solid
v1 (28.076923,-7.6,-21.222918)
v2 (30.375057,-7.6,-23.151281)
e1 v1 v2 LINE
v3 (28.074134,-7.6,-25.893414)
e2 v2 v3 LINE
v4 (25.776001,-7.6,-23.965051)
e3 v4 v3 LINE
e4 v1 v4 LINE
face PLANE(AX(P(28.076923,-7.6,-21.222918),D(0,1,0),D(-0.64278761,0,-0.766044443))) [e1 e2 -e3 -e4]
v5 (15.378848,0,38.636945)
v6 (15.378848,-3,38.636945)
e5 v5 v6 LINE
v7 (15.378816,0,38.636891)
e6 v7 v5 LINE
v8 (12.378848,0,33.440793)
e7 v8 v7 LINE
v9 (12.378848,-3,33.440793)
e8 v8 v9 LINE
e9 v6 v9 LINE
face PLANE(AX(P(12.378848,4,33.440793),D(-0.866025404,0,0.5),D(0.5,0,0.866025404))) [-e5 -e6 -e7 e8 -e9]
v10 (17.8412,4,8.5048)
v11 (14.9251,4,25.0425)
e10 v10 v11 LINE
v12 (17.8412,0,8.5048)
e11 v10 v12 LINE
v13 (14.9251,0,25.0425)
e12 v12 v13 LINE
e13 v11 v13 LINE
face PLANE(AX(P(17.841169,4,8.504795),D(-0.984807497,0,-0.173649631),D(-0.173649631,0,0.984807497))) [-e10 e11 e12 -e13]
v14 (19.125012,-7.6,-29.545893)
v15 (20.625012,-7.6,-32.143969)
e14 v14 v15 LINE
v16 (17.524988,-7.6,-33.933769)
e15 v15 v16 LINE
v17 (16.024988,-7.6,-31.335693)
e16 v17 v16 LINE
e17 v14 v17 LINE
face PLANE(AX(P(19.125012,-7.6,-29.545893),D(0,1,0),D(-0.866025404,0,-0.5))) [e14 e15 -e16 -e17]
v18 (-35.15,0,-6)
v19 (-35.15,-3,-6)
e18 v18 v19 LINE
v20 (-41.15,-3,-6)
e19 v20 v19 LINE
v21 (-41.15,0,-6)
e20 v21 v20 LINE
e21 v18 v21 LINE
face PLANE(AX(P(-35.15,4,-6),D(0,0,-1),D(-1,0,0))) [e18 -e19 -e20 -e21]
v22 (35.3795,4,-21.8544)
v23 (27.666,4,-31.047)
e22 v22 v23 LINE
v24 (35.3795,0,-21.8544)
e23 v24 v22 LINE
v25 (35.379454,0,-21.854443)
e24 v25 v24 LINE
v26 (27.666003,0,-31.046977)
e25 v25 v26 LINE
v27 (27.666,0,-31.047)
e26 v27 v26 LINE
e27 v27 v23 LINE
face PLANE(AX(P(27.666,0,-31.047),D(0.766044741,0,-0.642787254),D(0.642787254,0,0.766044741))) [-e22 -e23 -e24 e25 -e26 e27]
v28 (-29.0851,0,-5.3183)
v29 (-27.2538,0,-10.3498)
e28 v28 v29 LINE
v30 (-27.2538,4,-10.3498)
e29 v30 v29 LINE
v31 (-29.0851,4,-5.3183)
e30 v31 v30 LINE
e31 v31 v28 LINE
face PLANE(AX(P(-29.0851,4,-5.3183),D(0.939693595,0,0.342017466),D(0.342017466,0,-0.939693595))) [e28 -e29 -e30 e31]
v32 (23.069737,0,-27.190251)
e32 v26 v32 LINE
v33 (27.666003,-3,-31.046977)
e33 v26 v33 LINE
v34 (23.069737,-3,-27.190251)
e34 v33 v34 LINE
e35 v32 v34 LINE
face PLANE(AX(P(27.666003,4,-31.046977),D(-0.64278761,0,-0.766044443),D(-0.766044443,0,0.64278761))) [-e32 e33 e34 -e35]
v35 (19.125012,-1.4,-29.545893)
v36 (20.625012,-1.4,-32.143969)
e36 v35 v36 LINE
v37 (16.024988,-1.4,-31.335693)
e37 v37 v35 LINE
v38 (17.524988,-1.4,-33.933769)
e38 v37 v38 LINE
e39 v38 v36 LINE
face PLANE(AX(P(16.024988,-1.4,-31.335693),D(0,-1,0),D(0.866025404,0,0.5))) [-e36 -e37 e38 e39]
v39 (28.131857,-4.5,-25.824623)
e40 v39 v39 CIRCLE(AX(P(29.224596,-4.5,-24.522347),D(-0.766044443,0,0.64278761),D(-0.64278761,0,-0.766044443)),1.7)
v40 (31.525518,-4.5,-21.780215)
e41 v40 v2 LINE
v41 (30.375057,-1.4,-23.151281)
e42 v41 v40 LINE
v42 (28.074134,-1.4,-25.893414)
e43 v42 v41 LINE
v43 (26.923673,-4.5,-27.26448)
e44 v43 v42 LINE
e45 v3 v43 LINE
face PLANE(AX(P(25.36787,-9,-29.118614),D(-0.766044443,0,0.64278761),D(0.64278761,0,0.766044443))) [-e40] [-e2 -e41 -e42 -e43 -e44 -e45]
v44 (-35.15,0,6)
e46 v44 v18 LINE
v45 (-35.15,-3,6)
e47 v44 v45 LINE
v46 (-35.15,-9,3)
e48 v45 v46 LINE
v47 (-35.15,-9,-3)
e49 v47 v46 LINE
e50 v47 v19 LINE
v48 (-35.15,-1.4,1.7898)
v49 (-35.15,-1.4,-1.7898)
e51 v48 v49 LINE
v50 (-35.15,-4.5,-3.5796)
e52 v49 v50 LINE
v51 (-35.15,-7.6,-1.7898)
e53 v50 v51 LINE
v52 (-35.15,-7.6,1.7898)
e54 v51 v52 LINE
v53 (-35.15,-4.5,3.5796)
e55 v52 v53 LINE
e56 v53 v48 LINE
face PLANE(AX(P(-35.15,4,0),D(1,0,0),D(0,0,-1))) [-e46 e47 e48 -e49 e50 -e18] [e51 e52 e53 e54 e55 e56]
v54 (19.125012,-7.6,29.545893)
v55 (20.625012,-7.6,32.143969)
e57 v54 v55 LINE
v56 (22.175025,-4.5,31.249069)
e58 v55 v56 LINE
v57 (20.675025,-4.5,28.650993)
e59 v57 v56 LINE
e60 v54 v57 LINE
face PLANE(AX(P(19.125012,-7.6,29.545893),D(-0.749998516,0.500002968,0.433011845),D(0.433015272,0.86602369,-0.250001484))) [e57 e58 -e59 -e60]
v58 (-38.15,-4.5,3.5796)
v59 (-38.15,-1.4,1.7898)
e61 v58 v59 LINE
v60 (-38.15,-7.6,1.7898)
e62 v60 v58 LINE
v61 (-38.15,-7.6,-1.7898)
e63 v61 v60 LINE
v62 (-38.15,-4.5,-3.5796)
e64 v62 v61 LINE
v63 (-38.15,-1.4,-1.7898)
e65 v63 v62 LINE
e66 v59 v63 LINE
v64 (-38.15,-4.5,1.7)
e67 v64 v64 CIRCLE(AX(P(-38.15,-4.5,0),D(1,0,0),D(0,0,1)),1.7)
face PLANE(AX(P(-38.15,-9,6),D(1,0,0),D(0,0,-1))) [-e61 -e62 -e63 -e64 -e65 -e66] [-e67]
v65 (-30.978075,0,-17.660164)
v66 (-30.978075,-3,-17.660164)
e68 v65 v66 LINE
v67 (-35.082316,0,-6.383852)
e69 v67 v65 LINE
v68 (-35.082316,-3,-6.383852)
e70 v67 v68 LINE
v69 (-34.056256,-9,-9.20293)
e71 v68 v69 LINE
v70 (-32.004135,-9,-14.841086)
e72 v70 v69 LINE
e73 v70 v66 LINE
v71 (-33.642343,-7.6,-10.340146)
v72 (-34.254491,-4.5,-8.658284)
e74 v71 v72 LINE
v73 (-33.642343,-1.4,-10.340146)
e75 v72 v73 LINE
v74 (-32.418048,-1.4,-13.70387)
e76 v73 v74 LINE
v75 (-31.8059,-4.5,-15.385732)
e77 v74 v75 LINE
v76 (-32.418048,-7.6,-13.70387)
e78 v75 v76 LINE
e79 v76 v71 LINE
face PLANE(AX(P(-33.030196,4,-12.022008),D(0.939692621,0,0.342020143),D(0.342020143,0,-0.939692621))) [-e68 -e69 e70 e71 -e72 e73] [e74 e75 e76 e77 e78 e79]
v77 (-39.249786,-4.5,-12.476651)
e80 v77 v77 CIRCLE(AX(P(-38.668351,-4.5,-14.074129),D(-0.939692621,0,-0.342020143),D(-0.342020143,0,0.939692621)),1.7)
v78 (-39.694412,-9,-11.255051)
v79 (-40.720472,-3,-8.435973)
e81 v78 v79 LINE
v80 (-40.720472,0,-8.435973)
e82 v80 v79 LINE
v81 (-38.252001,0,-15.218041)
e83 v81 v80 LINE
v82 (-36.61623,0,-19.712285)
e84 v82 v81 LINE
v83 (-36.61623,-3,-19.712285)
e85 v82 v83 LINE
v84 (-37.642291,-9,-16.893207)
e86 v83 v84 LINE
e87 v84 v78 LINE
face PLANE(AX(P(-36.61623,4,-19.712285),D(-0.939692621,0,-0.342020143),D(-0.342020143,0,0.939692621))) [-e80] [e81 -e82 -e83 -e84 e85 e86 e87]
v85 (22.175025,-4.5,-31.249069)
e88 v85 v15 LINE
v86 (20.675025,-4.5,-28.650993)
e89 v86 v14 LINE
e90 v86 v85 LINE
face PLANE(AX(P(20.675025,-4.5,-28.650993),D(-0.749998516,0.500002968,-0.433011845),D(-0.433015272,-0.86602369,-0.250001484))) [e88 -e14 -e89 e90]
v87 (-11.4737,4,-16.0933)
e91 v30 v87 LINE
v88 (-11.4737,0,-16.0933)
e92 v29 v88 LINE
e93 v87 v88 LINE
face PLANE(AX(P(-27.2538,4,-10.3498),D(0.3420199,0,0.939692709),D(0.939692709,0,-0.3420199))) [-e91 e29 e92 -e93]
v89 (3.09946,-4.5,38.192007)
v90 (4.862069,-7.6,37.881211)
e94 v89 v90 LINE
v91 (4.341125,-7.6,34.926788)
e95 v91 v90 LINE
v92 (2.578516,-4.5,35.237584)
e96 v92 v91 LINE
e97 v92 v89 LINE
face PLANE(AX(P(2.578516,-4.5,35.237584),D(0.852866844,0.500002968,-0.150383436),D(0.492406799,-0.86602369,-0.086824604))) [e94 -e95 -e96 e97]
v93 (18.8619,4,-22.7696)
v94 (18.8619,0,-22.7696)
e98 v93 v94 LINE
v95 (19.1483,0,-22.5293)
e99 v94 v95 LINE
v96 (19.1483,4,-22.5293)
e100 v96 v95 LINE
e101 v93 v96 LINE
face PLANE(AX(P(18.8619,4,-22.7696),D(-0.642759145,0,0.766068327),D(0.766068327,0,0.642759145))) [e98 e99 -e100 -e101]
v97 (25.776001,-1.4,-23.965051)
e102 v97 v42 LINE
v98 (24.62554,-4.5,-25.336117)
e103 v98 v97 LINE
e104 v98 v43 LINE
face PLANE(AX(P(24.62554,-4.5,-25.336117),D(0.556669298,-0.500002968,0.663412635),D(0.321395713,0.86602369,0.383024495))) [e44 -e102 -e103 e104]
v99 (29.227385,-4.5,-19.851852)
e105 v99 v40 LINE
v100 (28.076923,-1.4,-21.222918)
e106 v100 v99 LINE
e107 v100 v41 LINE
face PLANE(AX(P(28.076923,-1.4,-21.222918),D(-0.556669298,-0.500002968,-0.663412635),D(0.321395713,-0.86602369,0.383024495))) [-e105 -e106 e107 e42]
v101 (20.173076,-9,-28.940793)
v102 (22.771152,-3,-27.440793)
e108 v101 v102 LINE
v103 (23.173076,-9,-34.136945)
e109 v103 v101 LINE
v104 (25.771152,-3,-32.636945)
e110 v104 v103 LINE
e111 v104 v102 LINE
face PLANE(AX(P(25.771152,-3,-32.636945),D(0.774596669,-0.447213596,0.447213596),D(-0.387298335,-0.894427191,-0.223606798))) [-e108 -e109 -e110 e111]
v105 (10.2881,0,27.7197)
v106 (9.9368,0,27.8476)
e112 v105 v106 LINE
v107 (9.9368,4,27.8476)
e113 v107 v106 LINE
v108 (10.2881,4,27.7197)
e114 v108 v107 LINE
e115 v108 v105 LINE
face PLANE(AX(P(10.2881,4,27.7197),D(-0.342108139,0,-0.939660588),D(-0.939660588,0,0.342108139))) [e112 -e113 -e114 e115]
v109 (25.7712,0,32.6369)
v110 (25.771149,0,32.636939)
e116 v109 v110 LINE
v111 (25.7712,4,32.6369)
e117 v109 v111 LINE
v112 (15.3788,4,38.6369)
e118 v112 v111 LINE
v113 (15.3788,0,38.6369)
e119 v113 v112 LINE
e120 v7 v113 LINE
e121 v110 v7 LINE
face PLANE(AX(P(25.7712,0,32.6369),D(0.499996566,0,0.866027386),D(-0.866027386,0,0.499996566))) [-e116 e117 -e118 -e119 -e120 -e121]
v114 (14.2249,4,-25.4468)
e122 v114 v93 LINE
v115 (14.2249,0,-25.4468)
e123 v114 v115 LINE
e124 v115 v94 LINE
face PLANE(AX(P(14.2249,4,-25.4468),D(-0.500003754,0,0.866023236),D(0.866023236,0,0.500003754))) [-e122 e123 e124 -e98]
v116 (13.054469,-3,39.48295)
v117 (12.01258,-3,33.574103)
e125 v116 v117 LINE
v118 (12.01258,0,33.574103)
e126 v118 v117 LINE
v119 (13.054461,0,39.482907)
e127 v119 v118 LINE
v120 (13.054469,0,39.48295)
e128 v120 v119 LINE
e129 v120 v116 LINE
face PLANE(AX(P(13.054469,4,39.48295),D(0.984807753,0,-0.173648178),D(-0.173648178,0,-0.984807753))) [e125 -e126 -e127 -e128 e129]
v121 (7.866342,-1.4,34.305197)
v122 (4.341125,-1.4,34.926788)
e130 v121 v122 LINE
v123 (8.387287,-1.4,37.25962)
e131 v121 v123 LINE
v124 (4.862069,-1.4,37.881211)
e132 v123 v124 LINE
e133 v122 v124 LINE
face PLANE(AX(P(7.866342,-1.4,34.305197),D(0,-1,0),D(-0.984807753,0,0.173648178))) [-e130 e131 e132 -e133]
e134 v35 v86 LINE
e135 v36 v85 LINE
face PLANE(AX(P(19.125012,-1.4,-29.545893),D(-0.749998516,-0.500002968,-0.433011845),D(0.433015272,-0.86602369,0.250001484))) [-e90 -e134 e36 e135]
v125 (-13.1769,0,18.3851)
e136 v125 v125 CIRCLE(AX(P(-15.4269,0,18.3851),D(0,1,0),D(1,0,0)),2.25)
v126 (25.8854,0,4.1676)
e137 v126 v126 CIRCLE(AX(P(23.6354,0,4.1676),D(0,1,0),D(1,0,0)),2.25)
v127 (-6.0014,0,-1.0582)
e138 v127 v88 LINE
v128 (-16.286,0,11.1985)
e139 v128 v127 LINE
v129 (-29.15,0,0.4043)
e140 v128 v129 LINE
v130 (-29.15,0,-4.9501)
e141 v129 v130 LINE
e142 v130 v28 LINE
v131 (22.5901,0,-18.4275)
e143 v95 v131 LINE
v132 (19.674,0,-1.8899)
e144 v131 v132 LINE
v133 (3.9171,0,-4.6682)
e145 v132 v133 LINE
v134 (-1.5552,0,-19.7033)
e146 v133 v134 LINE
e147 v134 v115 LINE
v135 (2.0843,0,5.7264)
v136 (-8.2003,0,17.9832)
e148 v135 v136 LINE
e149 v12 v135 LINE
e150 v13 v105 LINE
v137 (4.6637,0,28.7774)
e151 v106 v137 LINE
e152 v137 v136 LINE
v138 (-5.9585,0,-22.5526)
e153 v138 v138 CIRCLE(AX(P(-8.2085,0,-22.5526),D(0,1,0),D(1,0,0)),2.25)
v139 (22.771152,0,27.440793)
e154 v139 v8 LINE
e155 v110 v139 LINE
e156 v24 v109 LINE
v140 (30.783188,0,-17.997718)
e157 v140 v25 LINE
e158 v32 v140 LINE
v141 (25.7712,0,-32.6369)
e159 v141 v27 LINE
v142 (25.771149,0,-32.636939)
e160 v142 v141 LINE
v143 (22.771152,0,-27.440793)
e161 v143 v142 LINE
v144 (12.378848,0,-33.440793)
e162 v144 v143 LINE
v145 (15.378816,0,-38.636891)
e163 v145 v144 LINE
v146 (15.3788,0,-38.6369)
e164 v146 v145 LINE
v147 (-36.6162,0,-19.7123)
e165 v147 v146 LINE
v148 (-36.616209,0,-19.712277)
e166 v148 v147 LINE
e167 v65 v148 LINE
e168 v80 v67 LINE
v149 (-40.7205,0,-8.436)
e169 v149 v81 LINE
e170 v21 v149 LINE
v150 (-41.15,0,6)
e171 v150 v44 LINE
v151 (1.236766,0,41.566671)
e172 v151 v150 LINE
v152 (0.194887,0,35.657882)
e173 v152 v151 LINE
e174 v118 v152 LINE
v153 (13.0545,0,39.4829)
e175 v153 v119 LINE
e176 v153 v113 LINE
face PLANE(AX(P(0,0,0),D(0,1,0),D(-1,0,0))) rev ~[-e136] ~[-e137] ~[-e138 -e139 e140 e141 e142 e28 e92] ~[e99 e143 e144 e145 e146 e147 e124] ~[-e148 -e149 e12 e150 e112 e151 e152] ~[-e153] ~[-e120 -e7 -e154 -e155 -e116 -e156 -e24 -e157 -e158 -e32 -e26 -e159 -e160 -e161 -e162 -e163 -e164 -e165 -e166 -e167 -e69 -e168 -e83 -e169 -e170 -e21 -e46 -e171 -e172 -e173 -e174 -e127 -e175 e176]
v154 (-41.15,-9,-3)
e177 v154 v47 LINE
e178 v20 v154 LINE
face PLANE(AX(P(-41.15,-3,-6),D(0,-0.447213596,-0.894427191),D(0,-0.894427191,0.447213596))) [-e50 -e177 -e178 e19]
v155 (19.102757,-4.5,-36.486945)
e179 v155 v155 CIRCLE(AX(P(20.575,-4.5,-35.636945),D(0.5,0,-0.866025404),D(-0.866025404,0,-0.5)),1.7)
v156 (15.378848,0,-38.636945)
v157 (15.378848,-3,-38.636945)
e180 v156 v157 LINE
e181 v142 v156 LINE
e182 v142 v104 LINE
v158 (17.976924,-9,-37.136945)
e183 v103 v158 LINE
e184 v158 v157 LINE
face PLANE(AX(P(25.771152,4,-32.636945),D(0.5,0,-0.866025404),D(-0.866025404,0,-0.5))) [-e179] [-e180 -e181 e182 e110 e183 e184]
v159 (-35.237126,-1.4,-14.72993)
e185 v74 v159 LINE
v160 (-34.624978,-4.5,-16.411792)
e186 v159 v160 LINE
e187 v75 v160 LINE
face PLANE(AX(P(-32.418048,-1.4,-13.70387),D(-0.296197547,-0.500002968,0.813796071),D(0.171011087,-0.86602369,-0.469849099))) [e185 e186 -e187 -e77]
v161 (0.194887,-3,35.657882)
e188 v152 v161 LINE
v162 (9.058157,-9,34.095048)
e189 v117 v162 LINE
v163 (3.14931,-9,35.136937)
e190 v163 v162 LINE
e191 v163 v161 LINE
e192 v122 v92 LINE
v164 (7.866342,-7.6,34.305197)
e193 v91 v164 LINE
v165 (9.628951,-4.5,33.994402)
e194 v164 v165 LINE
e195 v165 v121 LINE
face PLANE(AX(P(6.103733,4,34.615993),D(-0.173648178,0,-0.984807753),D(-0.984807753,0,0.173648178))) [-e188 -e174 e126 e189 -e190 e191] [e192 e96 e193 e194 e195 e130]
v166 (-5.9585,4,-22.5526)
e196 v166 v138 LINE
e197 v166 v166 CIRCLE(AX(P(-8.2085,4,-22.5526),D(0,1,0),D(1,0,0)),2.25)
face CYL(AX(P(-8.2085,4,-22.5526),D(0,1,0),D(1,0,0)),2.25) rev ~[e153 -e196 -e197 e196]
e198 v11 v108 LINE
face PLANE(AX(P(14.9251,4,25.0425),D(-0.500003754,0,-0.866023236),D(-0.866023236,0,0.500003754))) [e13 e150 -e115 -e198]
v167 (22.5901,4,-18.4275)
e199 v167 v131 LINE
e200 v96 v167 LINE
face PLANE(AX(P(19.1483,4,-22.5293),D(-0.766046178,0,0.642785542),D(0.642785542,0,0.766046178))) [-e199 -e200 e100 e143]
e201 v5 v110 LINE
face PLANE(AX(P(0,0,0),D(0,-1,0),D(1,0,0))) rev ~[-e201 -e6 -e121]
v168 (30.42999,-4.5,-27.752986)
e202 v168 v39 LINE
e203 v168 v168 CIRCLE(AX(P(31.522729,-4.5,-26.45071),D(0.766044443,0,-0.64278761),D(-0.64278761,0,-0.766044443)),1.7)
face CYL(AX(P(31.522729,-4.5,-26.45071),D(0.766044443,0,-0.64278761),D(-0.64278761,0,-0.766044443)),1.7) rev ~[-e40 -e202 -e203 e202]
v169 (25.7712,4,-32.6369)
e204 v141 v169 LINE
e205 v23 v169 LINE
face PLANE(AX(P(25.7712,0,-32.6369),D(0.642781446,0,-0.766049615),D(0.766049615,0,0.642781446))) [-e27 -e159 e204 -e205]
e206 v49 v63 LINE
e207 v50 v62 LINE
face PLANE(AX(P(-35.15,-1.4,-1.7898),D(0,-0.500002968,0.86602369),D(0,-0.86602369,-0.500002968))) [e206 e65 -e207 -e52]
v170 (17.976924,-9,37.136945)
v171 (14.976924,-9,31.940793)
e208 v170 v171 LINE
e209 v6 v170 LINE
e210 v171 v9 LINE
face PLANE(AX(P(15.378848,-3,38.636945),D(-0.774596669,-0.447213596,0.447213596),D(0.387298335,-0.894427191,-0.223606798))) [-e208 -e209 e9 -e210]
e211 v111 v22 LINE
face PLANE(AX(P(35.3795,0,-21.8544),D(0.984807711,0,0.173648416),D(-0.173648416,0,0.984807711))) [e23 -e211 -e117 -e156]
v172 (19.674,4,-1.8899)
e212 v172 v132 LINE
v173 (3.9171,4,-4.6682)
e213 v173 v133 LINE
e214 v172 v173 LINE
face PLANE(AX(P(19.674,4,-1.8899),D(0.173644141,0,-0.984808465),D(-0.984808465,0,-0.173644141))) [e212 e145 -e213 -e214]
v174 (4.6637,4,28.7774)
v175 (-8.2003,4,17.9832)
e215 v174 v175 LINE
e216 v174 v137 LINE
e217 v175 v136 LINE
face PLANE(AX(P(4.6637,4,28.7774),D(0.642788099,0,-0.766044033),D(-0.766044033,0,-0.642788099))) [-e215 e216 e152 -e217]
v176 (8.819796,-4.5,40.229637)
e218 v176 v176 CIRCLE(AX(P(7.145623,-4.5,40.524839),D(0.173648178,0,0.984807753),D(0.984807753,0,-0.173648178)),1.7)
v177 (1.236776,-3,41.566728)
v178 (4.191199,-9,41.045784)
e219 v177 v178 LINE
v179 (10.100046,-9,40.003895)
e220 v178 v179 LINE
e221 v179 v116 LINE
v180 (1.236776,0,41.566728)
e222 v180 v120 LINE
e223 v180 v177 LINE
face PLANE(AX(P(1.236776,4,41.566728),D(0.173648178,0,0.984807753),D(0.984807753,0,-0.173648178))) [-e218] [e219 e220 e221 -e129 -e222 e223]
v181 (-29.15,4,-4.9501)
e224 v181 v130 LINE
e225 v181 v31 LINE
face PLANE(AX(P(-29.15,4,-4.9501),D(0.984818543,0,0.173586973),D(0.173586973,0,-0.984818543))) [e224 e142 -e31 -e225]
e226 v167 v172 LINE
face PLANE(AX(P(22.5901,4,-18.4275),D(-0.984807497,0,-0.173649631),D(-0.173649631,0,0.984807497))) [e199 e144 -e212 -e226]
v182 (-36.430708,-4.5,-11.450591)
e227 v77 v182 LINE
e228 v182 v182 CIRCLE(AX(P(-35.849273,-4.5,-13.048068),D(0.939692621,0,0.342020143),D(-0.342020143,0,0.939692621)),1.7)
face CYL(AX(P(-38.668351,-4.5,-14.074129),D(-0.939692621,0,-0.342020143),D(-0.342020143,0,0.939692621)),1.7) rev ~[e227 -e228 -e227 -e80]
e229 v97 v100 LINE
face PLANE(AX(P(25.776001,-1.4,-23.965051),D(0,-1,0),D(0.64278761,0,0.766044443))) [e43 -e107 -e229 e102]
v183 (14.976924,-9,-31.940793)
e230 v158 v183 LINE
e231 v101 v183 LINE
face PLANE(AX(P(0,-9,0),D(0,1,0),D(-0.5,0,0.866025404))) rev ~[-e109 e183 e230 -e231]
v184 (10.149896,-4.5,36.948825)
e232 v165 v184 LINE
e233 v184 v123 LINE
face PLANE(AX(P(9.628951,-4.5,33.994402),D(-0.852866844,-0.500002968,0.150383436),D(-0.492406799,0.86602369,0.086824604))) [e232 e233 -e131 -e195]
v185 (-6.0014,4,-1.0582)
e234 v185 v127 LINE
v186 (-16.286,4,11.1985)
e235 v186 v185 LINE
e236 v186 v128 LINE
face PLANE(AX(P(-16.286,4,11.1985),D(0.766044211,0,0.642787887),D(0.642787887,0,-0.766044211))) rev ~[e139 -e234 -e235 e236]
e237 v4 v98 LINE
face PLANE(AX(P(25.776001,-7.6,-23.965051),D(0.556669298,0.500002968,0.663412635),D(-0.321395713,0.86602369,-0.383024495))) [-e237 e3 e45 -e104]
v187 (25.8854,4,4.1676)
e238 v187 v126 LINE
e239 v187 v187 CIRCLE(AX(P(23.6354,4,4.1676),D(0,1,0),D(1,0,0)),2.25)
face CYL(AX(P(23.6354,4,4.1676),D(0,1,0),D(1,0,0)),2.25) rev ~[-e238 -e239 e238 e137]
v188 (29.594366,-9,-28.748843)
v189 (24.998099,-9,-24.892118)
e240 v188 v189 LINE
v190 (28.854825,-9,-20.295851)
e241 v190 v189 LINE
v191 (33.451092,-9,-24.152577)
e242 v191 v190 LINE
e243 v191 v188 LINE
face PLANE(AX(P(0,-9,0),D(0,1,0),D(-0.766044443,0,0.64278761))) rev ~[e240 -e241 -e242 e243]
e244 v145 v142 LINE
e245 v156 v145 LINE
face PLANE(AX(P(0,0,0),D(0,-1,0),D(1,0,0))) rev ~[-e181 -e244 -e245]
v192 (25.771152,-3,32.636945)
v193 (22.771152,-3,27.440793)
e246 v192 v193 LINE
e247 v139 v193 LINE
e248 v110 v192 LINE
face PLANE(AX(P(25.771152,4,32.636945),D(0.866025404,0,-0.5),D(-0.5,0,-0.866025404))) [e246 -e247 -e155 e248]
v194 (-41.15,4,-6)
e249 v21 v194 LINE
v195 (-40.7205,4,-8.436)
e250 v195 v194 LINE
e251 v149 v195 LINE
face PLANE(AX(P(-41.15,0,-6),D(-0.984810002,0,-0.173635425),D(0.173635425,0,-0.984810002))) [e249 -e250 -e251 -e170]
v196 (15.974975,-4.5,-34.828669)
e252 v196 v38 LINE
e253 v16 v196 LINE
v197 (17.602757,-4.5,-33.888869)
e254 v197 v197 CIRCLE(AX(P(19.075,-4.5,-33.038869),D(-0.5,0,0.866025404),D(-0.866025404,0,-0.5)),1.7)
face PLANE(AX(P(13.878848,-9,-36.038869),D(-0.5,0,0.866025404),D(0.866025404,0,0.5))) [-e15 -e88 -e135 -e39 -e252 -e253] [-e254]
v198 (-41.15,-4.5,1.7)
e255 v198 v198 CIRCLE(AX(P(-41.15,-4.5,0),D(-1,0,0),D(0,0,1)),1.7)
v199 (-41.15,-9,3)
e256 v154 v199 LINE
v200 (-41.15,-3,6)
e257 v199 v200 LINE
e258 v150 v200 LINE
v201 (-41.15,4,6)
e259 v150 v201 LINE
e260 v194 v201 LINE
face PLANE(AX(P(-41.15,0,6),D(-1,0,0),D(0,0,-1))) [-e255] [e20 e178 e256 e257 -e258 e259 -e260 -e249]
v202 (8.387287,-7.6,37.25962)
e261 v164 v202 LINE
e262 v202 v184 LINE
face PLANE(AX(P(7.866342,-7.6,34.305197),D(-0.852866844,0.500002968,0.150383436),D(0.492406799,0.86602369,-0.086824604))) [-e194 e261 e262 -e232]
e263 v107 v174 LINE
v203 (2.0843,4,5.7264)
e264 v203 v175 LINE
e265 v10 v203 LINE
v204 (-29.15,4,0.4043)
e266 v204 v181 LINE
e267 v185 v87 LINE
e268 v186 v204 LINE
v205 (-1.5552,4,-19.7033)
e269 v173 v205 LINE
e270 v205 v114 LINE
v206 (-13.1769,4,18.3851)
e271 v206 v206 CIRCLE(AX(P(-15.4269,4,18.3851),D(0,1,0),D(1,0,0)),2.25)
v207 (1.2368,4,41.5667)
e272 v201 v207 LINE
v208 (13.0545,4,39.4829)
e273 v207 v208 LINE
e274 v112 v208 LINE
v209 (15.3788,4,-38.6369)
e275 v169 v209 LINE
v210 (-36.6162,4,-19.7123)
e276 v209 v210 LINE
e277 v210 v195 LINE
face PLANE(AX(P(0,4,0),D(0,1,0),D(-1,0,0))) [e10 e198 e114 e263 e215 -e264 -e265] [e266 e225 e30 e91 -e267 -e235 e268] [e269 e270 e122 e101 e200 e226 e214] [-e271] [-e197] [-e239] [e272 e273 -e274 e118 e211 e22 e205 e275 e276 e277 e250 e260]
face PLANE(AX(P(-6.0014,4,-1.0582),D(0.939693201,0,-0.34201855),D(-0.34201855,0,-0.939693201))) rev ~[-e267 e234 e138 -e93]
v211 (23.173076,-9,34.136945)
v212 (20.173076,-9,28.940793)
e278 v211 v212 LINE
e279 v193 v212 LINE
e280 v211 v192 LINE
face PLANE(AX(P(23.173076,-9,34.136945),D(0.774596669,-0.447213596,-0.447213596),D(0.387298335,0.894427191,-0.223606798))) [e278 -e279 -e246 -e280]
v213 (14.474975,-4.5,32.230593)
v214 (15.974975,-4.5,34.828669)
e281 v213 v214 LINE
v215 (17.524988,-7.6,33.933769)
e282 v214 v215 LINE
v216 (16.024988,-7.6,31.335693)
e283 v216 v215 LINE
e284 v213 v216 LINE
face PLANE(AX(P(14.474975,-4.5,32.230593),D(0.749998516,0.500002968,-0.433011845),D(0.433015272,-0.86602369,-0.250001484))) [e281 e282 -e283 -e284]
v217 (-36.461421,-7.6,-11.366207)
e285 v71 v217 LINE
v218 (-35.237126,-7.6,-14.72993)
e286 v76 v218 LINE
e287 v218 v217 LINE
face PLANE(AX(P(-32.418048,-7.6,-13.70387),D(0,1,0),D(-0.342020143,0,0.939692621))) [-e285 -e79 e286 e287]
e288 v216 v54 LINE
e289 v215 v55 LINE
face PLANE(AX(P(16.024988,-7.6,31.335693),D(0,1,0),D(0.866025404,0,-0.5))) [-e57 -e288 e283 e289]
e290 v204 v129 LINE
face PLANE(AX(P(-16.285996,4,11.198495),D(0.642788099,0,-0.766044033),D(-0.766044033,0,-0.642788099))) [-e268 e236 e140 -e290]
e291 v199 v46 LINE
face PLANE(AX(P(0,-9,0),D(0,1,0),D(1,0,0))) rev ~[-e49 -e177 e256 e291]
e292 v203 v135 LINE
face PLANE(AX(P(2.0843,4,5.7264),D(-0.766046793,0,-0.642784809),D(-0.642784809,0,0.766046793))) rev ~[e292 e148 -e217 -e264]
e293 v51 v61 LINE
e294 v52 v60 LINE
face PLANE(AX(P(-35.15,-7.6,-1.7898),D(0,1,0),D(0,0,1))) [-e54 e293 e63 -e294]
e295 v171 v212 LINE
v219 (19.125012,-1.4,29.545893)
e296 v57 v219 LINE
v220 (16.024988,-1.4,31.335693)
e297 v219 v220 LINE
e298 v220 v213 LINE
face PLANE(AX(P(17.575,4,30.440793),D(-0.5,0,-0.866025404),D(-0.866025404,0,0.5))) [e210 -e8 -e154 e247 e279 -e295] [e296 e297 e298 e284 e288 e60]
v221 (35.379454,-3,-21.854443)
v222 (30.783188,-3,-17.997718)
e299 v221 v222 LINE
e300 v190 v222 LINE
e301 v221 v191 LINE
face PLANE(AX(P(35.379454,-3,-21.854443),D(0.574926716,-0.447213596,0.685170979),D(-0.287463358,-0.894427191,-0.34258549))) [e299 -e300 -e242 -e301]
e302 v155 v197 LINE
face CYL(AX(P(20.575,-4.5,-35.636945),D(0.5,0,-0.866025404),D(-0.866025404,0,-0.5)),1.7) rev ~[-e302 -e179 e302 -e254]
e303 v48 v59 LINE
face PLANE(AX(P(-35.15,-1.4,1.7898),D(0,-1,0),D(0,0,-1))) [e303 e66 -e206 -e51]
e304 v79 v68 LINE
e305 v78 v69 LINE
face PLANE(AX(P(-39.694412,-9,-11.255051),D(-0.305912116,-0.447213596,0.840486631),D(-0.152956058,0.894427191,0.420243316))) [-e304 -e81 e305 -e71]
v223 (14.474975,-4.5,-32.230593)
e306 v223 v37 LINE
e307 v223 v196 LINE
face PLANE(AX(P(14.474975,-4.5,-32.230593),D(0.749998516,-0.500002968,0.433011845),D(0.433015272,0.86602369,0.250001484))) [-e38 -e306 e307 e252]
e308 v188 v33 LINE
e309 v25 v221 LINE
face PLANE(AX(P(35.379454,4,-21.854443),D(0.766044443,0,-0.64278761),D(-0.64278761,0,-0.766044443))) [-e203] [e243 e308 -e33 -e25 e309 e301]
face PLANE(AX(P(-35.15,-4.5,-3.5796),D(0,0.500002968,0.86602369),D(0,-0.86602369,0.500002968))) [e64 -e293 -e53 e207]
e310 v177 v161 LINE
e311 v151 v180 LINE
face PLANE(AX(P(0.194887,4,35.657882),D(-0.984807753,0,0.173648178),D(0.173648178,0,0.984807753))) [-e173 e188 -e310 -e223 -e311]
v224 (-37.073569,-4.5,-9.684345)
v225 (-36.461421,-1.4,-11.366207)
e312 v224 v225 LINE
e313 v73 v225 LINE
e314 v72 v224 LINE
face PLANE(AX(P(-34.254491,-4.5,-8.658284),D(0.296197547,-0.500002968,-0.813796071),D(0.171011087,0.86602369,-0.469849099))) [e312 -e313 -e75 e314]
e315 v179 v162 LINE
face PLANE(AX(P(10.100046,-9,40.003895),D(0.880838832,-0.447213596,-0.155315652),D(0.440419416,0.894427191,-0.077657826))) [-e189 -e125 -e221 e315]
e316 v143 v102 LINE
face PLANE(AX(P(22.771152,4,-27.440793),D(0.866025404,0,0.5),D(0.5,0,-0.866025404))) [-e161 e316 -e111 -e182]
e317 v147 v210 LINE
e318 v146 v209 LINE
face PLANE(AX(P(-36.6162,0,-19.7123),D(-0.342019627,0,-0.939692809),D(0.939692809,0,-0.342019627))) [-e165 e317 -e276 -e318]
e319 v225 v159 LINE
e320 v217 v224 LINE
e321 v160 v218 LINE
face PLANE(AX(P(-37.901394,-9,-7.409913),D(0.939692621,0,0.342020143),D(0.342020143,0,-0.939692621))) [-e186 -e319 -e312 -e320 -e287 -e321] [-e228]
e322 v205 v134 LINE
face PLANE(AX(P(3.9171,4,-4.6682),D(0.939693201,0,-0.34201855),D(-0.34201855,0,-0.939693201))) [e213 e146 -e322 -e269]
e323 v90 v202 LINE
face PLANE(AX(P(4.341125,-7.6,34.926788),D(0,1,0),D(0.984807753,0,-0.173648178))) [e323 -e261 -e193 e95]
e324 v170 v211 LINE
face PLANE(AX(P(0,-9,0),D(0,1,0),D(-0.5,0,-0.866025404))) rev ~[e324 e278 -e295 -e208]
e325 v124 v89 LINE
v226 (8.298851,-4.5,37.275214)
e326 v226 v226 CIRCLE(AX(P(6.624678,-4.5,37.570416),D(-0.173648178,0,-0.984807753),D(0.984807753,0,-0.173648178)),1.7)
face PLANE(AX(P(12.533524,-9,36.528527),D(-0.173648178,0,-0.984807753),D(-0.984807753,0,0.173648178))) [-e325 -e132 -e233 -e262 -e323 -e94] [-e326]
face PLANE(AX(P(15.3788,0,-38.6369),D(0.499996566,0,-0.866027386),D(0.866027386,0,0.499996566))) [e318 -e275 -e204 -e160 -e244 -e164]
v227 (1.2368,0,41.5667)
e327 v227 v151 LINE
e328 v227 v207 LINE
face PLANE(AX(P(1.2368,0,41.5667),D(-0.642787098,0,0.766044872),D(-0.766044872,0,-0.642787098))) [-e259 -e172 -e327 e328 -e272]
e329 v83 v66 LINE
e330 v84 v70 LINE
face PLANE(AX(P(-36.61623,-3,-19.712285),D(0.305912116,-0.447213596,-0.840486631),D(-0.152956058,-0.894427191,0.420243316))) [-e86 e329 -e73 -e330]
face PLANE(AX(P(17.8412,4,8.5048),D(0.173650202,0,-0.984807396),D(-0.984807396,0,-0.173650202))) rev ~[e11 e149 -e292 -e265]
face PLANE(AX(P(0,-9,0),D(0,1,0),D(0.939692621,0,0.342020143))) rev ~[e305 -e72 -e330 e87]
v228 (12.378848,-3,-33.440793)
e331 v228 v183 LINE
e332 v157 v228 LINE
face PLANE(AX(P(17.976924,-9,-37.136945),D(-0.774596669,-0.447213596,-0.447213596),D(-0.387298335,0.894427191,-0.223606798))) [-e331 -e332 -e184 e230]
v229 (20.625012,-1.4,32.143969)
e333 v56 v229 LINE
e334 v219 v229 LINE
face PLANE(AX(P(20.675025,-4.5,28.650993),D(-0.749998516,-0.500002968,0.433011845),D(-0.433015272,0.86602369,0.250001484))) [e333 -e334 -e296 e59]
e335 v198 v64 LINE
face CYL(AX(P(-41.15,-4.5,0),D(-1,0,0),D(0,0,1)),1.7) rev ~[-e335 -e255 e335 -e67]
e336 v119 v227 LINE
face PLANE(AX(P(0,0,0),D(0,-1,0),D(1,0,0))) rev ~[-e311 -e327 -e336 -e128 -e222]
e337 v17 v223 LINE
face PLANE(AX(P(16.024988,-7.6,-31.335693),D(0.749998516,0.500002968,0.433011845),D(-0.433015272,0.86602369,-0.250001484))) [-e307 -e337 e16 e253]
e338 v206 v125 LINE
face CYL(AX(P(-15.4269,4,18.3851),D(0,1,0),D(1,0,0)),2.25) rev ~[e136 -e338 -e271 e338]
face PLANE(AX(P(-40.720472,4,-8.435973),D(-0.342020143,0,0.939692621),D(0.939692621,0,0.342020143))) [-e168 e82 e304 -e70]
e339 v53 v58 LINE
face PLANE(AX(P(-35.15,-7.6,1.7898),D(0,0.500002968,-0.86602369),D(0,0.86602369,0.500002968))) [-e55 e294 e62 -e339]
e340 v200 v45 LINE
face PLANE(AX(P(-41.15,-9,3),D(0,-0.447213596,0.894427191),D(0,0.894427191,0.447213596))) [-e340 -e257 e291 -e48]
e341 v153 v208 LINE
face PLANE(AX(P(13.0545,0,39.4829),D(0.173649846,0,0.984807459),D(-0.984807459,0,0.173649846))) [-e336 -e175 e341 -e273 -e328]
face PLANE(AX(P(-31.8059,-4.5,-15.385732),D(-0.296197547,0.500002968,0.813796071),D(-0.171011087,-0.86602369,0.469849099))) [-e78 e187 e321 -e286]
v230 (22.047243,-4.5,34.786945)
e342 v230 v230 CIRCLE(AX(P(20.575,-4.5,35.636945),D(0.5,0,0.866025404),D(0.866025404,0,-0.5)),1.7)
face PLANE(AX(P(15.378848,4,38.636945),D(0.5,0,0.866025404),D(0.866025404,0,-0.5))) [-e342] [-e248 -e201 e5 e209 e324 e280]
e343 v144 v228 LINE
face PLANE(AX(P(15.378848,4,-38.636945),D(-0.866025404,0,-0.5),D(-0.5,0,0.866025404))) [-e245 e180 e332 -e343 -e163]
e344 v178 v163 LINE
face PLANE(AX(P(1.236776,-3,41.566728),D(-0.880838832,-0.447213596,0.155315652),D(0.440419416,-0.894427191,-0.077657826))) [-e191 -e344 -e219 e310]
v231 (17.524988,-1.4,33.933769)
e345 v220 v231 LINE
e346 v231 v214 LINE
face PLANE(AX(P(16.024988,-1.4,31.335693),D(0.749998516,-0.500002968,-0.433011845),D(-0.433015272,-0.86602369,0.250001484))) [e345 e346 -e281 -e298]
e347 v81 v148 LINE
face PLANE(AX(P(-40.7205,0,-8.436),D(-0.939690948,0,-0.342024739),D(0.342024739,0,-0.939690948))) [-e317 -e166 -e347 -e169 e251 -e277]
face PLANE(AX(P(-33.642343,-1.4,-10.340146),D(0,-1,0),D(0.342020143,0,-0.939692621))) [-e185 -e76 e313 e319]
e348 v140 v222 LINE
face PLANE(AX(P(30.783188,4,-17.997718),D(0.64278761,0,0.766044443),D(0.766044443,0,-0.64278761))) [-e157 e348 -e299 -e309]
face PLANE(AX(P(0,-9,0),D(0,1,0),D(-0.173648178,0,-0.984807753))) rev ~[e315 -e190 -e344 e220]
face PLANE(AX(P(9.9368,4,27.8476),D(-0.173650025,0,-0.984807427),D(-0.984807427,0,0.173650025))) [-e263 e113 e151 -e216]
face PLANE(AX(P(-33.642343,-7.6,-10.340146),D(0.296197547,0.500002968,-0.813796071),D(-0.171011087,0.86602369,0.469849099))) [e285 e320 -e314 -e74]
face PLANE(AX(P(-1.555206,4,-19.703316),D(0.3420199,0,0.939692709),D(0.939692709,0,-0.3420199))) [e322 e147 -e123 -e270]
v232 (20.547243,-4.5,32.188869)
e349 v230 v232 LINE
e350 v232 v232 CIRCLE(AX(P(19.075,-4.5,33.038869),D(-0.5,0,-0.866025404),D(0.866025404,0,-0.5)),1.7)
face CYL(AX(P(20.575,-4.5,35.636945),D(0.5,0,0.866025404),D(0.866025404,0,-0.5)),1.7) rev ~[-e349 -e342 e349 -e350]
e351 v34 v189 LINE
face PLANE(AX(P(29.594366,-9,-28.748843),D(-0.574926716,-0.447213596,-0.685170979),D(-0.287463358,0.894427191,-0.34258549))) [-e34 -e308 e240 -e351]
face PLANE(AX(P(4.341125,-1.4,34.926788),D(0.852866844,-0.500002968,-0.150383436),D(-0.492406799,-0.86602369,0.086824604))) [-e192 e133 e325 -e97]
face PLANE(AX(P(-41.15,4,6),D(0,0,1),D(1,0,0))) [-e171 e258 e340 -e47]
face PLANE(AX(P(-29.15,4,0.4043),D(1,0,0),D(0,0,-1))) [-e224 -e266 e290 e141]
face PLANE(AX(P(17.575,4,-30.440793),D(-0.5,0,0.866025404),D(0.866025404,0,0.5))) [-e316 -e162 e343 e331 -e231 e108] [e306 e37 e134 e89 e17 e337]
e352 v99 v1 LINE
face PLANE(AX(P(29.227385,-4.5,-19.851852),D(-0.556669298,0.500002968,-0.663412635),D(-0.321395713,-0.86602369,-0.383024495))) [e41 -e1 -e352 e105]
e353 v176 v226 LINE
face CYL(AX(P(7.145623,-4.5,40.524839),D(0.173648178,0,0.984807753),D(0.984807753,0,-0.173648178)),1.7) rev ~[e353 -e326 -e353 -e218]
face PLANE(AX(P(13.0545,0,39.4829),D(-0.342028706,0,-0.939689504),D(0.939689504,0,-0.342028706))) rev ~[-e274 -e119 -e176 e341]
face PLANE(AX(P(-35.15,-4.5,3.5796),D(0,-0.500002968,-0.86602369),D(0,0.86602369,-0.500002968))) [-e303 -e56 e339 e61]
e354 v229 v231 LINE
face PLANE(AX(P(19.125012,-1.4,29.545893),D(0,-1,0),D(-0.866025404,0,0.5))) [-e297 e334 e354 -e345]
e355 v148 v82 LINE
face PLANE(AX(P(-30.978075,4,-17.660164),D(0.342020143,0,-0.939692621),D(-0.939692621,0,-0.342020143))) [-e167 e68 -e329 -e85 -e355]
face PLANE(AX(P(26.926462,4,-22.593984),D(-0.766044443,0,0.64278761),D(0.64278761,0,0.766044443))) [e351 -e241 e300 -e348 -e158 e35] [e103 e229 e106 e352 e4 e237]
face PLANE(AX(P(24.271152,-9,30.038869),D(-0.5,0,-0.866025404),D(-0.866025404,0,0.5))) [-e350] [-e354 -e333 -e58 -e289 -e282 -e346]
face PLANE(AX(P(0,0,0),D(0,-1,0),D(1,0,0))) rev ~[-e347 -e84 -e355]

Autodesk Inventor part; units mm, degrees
ref_plane "YZ Plane" through (0, 0, 0) normal (1, 0, 0) x (0, 1, 0)
ref_plane "XZ Plane" through (0, 0, 0) normal (0, 1, 0) x (-1, 0, 0)
sketch "Szkic1" plane through (0, 0, 0) normal (0, 1, 0) x (-1, 0, 0)
  line L0 (70, 0) -> (-70, 0) projected
  line L1 (0, -70) -> (0, 70) projected
  circle A0 centre (0, 0) radius 50
  dimension "d1" = 100
extrude "Wyciągnięcie proste1" add sketch "Szkic1" along normal blind 4
sketch "Szkic2" plane through (0, 4, 0) normal (0, 1, 0) x (1, 0, 0)
  line L0 (-70, 0) -> (70, 0) projected
  line L1 (-35.15, 6) -> (-41.15, 6)
  line L2 (-41.15, 6) -> (-41.15, -6)
  line L3 (-41.15, -6) -> (-35.15, -6)
  line L4 (-35.15, -6) -> (-35.15, 6)
  line L5 (-35.15, 6) -> (-41.15, -6) construction
  line L6 (-41.15, 6) -> (-35.15, -6) construction
  point P0 (0, 0)
  point P1 (-38.15, 0)
  dimension "d6" = 6
  dimension "d7" = 12
  dimension "d8" = 41.15
extrude "Wyciągnięcie proste2" add sketch "Szkic2" against normal blind 13
pattern_circular "Szyk kołowy1" count 2 over 100 about axis through (0, -10, 0) along (0, 1, 0) of "Wyciągnięcie proste2"
pattern_circular "Szyk kołowy2" count 3 over 360 about axis through (0, -10, 0) along (0, 1, 0) of "Wyciągnięcie proste2", "Szyk kołowy1"
sketch "Szkic3" plane through (0, 0, 0) normal (0, -1, 0) x (1, 0, 0)
  line L0 (13.0545, 39.4829) -> (1.2368, 41.5667) projected
  line L1 (25.7712, 32.6369) -> (15.3788, 38.6369) projected
  line L2 (-41.15, 6) -> (-41.15, -6) projected
  line L3 (-40.7205, -8.436) -> (-36.6162, -19.7123) projected
  line L4 (15.3788, -38.6369) -> (25.7712, -32.6369) projected
  line L5 (27.666, -31.047) -> (35.3795, -21.8544) projected
  line L6 (1.2368, 41.5667) -> (13.0545, 39.4829) projected
  line L7 (13.0545, 39.4829) -> (15.3788, 38.6369)
  line L8 (1.2368, 41.5667) -> (-41.15, 6)
  line L9 (-41.15, -6) -> (-40.7205, -8.436)
  line L10 (-36.6162, -19.7123) -> (15.3788, -38.6369)
  line L11 (25.7712, -32.6369) -> (27.666, -31.047)
  line L12 (35.3795, -21.8544) -> (25.7712, 32.6369)
  circle A0 centre (0, 0) radius 50 projected
extrude "Wyciągnięcie proste3" cut sketch "Szkic3" against normal blind 15
sketch "Szkic4" plane through (-41.15, -9, -6) normal (-1, 0, 0) x (0, 0, 1)
  circle A0 centre (6, 4.5) radius 1.7
  line L0 (12, 9) -> (12, 0) projected
  line L1 (0, 9) -> (0, 0) projected
  line L2 (12, 0) -> (0, 0) projected
  line L3 (47.5667, 9) -> (12, 9) projected
  point P0 (6, 9)
  dimension "d19" = 3.4
  dimension "d20" = 12
  dimension "d21" = 9
  dimension "d22" = 4.5
  dimension "d23" = 6
extrude "Wyciągnięcie proste4" cut sketch "Szkic4" against normal blind 15
sketch "Szkic7" plane through (-35.15, -9, 6) normal (1, 0, 0) x (0, 0, -1)
  circle A0 centre (6, 4.5) radius 1.7 projected
  line L0 (4.2102, 7.6) -> (7.7898, 7.6)
  line L1 (7.7898, 7.6) -> (9.5796, 4.5)
  line L2 (9.5796, 4.5) -> (7.7898, 1.4)
  line L3 (7.7898, 1.4) -> (4.2102, 1.4)
  line L4 (4.2102, 1.4) -> (2.4204, 4.5)
  line L5 (2.4204, 4.5) -> (4.2102, 7.6)
  line L6 (27.8544, 9) -> (-26.6369, 9) projected
  point P0 (6, 9)
  dimension "d41" = 6.2
extrude "Wyciągnięcie proste6" cut sketch "Szkic7" against normal blind 3
sketch "Szkic8" plane through (-41.15, -9, -6) normal (-1, 0, 0) x (0, 0, 1)
  circle A0 centre (6, 4.5) radius 1.7 projected
  line L0 (0, 9) -> (0, 0) projected
  line L1 (12, 0) -> (0, 0) projected
  line L2 (12, 9) -> (12, 0) projected
  line L3 (12, 9) -> (12, 13) projected
  line L4 (0, 13) -> (12, 13) projected
  line L5 (0, 9) -> (0, 13) projected
  line L6 (0, 9) -> (0, 0) projected
  line L7 (0, 6) -> (3, 0)
  line L8 (0, 0) -> (12, 0) projected
  line L9 (6, 13.1218) -> (6, -2.4883) construction
  line L10 (9, 0) -> (12, 6)
  line L11 (12, 9) -> (12, 0) projected
  line L12 (0, 6) -> (0, 0)
  line L13 (0, 0) -> (3, 0)
  line L14 (9, 0) -> (12, 0)
  line L15 (12, 0) -> (12, 6)
  point P0 (6, 9)
  dimension "d44" = 12
  dimension "d45" = 6
  dimension "d46" = 3
  dimension "d47" = 6
extrude "Wyciągnięcie proste7" cut sketch "Szkic8" against normal through all contours L7 L1 L0 | L10 L2 L1
pattern_circular "Szyk kołowy3" count 2 over 100 about axis through (0, -10, 0) along (0, 1, 0) of "Wyciągnięcie proste4", "Wyciągnięcie proste6", "Wyciągnięcie proste7"
pattern_circular "Szyk kołowy4" count 3 over 360 about axis through (0, -10, 0) along (0, 1, 0) of "Wyciągnięcie proste4", "Szyk kołowy3", "Wyciągnięcie proste6", "Wyciągnięcie proste7"
ref_plane "Płaszczyzna konstrukcyjna2" through (0, 0, 0) normal (0.1736, 0, -0.9848) x (0, 1, 0)
ref_plane "Płaszczyzna konstrukcyjna1" through (0, 0, 0) normal (0.9848, 0, 0.1736) x (0, 1, 0)
sketch "Szkic9" plane through (0, 4, 0) normal (0, 1, 0) x (1, 0, 0)
  line L0 (-41.15, -6) -> (1.2368, -41.5667) projected
  line L1 (1.2368, -41.5667) -> (13.0545, -39.4829) projected
  line L2 (13.0545, -39.4829) -> (15.3788, -38.6369) projected
  line L3 (15.3788, -38.6369) -> (25.7712, -32.6369) projected
  line L4 (25.7712, -32.6369) -> (35.3795, 21.8544) projected
  line L5 (35.3795, 21.8544) -> (27.666, 31.047) projected
  line L6 (27.666, 31.047) -> (25.7712, 32.6369) projected
  line L7 (25.7712, 32.6369) -> (15.3788, 38.6369) projected
  line L8 (15.3788, 38.6369) -> (-36.6162, 19.7123) projected
  line L9 (-36.6162, 19.7123) -> (-40.7205, 8.436) projected
  line L10 (-40.7205, 8.436) -> (-41.15, 6) projected
  line L11 (-41.15, 6) -> (-41.15, -6) projected
  line L12 (4.6637, -28.7774) -> (-29.15, -0.4043)
  line L13 (-29.15, -0.4043) -> (-29.15, 4.9501)
  line L14 (-29.15, 4.9501) -> (-29.0851, 5.3183)
  line L15 (-29.0851, 5.3183) -> (-27.2538, 10.3498)
  line L16 (-27.2538, 10.3498) -> (14.2249, 25.4468)
  line L17 (14.2249, 25.4468) -> (18.8619, 22.7696)
  line L18 (18.8619, 22.7696) -> (19.1483, 22.5293)
  line L19 (19.1483, 22.5293) -> (22.5901, 18.4275)
  line L20 (22.5901, 18.4275) -> (14.9251, -25.0425)
  line L21 (14.9251, -25.0425) -> (10.2881, -27.7197)
  line L22 (10.2881, -27.7197) -> (9.9368, -27.8476)
  line L23 (9.9368, -27.8476) -> (4.6637, -28.7774)
  line L24 (-70.5596, 12.4416) -> (63.5408, -11.204) construction
  line L25 (0, 0) -> (-18.2691, 50.194) construction
  line L26 (0, 0) -> (-31.1455, -37.1177) construction
  line L27 (17.8412, -8.5048) -> (2.0843, -5.7264)
  line L28 (2.0843, -5.7264) -> (-8.2003, -17.9832)
  line L29 (-16.286, -11.1985) -> (-6.0014, 1.0582)
  line L30 (19.674, 1.8899) -> (3.9171, 4.6682)
  line L31 (3.9171, 4.6682) -> (-1.5552, 19.7033)
  line L32 (-6.0014, 1.0582) -> (-11.4737, 16.0933)
  line L33 (0, 0) -> (30.8041, 36.7109) construction
  line L34 (0, 0) -> (16.6908, -45.8576) construction
  dimension "d50" = 12
  dimension "d51" = 120
  dimension "d52" = 120
  dimension "d54" = 16
  dimension "d55" = 16
extrude "Wyciągnięcie proste8" cut sketch "Szkic9" against normal blind 10 contours L12 L28 L27 L20 L21 L22 L23 | L12 L13 L14 L15 L16 L32 L29 | L30 L31 L16 L17 L18 L19 L20
sketch "Szkic10" plane through (0, 4, 0) normal (0, 1, 0) x (1, 0, 0)
  line L0 (0, 0) -> (32.0857, 38.2383) construction
  line L1 (0, 0) -> (16.7031, -45.8915) construction
  line L2 (-64.2519, 11.3293) -> (59.8959, -10.5613) construction
  circle A0 centre (-8.2085, 22.5526) radius 2.25
  circle A1 centre (23.6354, -4.1676) radius 2.25
  circle A2 centre (-15.4269, -18.3851) radius 2.25
  dimension "d58" = 120
  dimension "d59" = 120
  dimension "d68" = 4.5
  dimension "d69" = 4.5
  dimension "d70" = 4.5
  dimension "d71" = 24
  dimension "d72" = 24
  dimension "d73" = 24
extrude "Wyciągnięcie proste9" cut sketch "Szkic10" against normal blind 10
equation "\"d8\" = radiusPlatform - ballOffset"
equation "\"d12\" = alphaPlatform"
equation "\"d22\" = 0.5 * d21"
equation "\"d23\" = 0.5 * d20"
equation "\"d45\" = 0.5 * d44"
equation "\"d27\" = alphaPlatform"
equation "\"d55\" = d54"
equation "\"d69\" = d68"
equation "\"d70\" = d68"
equation "\"d72\" = d71"
equation "\"d73\" = d71"
equation "\"alphaPlatform\" = 100deg"
equation "\"radiusPlatform\" = 50"
equation "\"ballOffset\" = 8.85"
properties part number "plate_upper"
